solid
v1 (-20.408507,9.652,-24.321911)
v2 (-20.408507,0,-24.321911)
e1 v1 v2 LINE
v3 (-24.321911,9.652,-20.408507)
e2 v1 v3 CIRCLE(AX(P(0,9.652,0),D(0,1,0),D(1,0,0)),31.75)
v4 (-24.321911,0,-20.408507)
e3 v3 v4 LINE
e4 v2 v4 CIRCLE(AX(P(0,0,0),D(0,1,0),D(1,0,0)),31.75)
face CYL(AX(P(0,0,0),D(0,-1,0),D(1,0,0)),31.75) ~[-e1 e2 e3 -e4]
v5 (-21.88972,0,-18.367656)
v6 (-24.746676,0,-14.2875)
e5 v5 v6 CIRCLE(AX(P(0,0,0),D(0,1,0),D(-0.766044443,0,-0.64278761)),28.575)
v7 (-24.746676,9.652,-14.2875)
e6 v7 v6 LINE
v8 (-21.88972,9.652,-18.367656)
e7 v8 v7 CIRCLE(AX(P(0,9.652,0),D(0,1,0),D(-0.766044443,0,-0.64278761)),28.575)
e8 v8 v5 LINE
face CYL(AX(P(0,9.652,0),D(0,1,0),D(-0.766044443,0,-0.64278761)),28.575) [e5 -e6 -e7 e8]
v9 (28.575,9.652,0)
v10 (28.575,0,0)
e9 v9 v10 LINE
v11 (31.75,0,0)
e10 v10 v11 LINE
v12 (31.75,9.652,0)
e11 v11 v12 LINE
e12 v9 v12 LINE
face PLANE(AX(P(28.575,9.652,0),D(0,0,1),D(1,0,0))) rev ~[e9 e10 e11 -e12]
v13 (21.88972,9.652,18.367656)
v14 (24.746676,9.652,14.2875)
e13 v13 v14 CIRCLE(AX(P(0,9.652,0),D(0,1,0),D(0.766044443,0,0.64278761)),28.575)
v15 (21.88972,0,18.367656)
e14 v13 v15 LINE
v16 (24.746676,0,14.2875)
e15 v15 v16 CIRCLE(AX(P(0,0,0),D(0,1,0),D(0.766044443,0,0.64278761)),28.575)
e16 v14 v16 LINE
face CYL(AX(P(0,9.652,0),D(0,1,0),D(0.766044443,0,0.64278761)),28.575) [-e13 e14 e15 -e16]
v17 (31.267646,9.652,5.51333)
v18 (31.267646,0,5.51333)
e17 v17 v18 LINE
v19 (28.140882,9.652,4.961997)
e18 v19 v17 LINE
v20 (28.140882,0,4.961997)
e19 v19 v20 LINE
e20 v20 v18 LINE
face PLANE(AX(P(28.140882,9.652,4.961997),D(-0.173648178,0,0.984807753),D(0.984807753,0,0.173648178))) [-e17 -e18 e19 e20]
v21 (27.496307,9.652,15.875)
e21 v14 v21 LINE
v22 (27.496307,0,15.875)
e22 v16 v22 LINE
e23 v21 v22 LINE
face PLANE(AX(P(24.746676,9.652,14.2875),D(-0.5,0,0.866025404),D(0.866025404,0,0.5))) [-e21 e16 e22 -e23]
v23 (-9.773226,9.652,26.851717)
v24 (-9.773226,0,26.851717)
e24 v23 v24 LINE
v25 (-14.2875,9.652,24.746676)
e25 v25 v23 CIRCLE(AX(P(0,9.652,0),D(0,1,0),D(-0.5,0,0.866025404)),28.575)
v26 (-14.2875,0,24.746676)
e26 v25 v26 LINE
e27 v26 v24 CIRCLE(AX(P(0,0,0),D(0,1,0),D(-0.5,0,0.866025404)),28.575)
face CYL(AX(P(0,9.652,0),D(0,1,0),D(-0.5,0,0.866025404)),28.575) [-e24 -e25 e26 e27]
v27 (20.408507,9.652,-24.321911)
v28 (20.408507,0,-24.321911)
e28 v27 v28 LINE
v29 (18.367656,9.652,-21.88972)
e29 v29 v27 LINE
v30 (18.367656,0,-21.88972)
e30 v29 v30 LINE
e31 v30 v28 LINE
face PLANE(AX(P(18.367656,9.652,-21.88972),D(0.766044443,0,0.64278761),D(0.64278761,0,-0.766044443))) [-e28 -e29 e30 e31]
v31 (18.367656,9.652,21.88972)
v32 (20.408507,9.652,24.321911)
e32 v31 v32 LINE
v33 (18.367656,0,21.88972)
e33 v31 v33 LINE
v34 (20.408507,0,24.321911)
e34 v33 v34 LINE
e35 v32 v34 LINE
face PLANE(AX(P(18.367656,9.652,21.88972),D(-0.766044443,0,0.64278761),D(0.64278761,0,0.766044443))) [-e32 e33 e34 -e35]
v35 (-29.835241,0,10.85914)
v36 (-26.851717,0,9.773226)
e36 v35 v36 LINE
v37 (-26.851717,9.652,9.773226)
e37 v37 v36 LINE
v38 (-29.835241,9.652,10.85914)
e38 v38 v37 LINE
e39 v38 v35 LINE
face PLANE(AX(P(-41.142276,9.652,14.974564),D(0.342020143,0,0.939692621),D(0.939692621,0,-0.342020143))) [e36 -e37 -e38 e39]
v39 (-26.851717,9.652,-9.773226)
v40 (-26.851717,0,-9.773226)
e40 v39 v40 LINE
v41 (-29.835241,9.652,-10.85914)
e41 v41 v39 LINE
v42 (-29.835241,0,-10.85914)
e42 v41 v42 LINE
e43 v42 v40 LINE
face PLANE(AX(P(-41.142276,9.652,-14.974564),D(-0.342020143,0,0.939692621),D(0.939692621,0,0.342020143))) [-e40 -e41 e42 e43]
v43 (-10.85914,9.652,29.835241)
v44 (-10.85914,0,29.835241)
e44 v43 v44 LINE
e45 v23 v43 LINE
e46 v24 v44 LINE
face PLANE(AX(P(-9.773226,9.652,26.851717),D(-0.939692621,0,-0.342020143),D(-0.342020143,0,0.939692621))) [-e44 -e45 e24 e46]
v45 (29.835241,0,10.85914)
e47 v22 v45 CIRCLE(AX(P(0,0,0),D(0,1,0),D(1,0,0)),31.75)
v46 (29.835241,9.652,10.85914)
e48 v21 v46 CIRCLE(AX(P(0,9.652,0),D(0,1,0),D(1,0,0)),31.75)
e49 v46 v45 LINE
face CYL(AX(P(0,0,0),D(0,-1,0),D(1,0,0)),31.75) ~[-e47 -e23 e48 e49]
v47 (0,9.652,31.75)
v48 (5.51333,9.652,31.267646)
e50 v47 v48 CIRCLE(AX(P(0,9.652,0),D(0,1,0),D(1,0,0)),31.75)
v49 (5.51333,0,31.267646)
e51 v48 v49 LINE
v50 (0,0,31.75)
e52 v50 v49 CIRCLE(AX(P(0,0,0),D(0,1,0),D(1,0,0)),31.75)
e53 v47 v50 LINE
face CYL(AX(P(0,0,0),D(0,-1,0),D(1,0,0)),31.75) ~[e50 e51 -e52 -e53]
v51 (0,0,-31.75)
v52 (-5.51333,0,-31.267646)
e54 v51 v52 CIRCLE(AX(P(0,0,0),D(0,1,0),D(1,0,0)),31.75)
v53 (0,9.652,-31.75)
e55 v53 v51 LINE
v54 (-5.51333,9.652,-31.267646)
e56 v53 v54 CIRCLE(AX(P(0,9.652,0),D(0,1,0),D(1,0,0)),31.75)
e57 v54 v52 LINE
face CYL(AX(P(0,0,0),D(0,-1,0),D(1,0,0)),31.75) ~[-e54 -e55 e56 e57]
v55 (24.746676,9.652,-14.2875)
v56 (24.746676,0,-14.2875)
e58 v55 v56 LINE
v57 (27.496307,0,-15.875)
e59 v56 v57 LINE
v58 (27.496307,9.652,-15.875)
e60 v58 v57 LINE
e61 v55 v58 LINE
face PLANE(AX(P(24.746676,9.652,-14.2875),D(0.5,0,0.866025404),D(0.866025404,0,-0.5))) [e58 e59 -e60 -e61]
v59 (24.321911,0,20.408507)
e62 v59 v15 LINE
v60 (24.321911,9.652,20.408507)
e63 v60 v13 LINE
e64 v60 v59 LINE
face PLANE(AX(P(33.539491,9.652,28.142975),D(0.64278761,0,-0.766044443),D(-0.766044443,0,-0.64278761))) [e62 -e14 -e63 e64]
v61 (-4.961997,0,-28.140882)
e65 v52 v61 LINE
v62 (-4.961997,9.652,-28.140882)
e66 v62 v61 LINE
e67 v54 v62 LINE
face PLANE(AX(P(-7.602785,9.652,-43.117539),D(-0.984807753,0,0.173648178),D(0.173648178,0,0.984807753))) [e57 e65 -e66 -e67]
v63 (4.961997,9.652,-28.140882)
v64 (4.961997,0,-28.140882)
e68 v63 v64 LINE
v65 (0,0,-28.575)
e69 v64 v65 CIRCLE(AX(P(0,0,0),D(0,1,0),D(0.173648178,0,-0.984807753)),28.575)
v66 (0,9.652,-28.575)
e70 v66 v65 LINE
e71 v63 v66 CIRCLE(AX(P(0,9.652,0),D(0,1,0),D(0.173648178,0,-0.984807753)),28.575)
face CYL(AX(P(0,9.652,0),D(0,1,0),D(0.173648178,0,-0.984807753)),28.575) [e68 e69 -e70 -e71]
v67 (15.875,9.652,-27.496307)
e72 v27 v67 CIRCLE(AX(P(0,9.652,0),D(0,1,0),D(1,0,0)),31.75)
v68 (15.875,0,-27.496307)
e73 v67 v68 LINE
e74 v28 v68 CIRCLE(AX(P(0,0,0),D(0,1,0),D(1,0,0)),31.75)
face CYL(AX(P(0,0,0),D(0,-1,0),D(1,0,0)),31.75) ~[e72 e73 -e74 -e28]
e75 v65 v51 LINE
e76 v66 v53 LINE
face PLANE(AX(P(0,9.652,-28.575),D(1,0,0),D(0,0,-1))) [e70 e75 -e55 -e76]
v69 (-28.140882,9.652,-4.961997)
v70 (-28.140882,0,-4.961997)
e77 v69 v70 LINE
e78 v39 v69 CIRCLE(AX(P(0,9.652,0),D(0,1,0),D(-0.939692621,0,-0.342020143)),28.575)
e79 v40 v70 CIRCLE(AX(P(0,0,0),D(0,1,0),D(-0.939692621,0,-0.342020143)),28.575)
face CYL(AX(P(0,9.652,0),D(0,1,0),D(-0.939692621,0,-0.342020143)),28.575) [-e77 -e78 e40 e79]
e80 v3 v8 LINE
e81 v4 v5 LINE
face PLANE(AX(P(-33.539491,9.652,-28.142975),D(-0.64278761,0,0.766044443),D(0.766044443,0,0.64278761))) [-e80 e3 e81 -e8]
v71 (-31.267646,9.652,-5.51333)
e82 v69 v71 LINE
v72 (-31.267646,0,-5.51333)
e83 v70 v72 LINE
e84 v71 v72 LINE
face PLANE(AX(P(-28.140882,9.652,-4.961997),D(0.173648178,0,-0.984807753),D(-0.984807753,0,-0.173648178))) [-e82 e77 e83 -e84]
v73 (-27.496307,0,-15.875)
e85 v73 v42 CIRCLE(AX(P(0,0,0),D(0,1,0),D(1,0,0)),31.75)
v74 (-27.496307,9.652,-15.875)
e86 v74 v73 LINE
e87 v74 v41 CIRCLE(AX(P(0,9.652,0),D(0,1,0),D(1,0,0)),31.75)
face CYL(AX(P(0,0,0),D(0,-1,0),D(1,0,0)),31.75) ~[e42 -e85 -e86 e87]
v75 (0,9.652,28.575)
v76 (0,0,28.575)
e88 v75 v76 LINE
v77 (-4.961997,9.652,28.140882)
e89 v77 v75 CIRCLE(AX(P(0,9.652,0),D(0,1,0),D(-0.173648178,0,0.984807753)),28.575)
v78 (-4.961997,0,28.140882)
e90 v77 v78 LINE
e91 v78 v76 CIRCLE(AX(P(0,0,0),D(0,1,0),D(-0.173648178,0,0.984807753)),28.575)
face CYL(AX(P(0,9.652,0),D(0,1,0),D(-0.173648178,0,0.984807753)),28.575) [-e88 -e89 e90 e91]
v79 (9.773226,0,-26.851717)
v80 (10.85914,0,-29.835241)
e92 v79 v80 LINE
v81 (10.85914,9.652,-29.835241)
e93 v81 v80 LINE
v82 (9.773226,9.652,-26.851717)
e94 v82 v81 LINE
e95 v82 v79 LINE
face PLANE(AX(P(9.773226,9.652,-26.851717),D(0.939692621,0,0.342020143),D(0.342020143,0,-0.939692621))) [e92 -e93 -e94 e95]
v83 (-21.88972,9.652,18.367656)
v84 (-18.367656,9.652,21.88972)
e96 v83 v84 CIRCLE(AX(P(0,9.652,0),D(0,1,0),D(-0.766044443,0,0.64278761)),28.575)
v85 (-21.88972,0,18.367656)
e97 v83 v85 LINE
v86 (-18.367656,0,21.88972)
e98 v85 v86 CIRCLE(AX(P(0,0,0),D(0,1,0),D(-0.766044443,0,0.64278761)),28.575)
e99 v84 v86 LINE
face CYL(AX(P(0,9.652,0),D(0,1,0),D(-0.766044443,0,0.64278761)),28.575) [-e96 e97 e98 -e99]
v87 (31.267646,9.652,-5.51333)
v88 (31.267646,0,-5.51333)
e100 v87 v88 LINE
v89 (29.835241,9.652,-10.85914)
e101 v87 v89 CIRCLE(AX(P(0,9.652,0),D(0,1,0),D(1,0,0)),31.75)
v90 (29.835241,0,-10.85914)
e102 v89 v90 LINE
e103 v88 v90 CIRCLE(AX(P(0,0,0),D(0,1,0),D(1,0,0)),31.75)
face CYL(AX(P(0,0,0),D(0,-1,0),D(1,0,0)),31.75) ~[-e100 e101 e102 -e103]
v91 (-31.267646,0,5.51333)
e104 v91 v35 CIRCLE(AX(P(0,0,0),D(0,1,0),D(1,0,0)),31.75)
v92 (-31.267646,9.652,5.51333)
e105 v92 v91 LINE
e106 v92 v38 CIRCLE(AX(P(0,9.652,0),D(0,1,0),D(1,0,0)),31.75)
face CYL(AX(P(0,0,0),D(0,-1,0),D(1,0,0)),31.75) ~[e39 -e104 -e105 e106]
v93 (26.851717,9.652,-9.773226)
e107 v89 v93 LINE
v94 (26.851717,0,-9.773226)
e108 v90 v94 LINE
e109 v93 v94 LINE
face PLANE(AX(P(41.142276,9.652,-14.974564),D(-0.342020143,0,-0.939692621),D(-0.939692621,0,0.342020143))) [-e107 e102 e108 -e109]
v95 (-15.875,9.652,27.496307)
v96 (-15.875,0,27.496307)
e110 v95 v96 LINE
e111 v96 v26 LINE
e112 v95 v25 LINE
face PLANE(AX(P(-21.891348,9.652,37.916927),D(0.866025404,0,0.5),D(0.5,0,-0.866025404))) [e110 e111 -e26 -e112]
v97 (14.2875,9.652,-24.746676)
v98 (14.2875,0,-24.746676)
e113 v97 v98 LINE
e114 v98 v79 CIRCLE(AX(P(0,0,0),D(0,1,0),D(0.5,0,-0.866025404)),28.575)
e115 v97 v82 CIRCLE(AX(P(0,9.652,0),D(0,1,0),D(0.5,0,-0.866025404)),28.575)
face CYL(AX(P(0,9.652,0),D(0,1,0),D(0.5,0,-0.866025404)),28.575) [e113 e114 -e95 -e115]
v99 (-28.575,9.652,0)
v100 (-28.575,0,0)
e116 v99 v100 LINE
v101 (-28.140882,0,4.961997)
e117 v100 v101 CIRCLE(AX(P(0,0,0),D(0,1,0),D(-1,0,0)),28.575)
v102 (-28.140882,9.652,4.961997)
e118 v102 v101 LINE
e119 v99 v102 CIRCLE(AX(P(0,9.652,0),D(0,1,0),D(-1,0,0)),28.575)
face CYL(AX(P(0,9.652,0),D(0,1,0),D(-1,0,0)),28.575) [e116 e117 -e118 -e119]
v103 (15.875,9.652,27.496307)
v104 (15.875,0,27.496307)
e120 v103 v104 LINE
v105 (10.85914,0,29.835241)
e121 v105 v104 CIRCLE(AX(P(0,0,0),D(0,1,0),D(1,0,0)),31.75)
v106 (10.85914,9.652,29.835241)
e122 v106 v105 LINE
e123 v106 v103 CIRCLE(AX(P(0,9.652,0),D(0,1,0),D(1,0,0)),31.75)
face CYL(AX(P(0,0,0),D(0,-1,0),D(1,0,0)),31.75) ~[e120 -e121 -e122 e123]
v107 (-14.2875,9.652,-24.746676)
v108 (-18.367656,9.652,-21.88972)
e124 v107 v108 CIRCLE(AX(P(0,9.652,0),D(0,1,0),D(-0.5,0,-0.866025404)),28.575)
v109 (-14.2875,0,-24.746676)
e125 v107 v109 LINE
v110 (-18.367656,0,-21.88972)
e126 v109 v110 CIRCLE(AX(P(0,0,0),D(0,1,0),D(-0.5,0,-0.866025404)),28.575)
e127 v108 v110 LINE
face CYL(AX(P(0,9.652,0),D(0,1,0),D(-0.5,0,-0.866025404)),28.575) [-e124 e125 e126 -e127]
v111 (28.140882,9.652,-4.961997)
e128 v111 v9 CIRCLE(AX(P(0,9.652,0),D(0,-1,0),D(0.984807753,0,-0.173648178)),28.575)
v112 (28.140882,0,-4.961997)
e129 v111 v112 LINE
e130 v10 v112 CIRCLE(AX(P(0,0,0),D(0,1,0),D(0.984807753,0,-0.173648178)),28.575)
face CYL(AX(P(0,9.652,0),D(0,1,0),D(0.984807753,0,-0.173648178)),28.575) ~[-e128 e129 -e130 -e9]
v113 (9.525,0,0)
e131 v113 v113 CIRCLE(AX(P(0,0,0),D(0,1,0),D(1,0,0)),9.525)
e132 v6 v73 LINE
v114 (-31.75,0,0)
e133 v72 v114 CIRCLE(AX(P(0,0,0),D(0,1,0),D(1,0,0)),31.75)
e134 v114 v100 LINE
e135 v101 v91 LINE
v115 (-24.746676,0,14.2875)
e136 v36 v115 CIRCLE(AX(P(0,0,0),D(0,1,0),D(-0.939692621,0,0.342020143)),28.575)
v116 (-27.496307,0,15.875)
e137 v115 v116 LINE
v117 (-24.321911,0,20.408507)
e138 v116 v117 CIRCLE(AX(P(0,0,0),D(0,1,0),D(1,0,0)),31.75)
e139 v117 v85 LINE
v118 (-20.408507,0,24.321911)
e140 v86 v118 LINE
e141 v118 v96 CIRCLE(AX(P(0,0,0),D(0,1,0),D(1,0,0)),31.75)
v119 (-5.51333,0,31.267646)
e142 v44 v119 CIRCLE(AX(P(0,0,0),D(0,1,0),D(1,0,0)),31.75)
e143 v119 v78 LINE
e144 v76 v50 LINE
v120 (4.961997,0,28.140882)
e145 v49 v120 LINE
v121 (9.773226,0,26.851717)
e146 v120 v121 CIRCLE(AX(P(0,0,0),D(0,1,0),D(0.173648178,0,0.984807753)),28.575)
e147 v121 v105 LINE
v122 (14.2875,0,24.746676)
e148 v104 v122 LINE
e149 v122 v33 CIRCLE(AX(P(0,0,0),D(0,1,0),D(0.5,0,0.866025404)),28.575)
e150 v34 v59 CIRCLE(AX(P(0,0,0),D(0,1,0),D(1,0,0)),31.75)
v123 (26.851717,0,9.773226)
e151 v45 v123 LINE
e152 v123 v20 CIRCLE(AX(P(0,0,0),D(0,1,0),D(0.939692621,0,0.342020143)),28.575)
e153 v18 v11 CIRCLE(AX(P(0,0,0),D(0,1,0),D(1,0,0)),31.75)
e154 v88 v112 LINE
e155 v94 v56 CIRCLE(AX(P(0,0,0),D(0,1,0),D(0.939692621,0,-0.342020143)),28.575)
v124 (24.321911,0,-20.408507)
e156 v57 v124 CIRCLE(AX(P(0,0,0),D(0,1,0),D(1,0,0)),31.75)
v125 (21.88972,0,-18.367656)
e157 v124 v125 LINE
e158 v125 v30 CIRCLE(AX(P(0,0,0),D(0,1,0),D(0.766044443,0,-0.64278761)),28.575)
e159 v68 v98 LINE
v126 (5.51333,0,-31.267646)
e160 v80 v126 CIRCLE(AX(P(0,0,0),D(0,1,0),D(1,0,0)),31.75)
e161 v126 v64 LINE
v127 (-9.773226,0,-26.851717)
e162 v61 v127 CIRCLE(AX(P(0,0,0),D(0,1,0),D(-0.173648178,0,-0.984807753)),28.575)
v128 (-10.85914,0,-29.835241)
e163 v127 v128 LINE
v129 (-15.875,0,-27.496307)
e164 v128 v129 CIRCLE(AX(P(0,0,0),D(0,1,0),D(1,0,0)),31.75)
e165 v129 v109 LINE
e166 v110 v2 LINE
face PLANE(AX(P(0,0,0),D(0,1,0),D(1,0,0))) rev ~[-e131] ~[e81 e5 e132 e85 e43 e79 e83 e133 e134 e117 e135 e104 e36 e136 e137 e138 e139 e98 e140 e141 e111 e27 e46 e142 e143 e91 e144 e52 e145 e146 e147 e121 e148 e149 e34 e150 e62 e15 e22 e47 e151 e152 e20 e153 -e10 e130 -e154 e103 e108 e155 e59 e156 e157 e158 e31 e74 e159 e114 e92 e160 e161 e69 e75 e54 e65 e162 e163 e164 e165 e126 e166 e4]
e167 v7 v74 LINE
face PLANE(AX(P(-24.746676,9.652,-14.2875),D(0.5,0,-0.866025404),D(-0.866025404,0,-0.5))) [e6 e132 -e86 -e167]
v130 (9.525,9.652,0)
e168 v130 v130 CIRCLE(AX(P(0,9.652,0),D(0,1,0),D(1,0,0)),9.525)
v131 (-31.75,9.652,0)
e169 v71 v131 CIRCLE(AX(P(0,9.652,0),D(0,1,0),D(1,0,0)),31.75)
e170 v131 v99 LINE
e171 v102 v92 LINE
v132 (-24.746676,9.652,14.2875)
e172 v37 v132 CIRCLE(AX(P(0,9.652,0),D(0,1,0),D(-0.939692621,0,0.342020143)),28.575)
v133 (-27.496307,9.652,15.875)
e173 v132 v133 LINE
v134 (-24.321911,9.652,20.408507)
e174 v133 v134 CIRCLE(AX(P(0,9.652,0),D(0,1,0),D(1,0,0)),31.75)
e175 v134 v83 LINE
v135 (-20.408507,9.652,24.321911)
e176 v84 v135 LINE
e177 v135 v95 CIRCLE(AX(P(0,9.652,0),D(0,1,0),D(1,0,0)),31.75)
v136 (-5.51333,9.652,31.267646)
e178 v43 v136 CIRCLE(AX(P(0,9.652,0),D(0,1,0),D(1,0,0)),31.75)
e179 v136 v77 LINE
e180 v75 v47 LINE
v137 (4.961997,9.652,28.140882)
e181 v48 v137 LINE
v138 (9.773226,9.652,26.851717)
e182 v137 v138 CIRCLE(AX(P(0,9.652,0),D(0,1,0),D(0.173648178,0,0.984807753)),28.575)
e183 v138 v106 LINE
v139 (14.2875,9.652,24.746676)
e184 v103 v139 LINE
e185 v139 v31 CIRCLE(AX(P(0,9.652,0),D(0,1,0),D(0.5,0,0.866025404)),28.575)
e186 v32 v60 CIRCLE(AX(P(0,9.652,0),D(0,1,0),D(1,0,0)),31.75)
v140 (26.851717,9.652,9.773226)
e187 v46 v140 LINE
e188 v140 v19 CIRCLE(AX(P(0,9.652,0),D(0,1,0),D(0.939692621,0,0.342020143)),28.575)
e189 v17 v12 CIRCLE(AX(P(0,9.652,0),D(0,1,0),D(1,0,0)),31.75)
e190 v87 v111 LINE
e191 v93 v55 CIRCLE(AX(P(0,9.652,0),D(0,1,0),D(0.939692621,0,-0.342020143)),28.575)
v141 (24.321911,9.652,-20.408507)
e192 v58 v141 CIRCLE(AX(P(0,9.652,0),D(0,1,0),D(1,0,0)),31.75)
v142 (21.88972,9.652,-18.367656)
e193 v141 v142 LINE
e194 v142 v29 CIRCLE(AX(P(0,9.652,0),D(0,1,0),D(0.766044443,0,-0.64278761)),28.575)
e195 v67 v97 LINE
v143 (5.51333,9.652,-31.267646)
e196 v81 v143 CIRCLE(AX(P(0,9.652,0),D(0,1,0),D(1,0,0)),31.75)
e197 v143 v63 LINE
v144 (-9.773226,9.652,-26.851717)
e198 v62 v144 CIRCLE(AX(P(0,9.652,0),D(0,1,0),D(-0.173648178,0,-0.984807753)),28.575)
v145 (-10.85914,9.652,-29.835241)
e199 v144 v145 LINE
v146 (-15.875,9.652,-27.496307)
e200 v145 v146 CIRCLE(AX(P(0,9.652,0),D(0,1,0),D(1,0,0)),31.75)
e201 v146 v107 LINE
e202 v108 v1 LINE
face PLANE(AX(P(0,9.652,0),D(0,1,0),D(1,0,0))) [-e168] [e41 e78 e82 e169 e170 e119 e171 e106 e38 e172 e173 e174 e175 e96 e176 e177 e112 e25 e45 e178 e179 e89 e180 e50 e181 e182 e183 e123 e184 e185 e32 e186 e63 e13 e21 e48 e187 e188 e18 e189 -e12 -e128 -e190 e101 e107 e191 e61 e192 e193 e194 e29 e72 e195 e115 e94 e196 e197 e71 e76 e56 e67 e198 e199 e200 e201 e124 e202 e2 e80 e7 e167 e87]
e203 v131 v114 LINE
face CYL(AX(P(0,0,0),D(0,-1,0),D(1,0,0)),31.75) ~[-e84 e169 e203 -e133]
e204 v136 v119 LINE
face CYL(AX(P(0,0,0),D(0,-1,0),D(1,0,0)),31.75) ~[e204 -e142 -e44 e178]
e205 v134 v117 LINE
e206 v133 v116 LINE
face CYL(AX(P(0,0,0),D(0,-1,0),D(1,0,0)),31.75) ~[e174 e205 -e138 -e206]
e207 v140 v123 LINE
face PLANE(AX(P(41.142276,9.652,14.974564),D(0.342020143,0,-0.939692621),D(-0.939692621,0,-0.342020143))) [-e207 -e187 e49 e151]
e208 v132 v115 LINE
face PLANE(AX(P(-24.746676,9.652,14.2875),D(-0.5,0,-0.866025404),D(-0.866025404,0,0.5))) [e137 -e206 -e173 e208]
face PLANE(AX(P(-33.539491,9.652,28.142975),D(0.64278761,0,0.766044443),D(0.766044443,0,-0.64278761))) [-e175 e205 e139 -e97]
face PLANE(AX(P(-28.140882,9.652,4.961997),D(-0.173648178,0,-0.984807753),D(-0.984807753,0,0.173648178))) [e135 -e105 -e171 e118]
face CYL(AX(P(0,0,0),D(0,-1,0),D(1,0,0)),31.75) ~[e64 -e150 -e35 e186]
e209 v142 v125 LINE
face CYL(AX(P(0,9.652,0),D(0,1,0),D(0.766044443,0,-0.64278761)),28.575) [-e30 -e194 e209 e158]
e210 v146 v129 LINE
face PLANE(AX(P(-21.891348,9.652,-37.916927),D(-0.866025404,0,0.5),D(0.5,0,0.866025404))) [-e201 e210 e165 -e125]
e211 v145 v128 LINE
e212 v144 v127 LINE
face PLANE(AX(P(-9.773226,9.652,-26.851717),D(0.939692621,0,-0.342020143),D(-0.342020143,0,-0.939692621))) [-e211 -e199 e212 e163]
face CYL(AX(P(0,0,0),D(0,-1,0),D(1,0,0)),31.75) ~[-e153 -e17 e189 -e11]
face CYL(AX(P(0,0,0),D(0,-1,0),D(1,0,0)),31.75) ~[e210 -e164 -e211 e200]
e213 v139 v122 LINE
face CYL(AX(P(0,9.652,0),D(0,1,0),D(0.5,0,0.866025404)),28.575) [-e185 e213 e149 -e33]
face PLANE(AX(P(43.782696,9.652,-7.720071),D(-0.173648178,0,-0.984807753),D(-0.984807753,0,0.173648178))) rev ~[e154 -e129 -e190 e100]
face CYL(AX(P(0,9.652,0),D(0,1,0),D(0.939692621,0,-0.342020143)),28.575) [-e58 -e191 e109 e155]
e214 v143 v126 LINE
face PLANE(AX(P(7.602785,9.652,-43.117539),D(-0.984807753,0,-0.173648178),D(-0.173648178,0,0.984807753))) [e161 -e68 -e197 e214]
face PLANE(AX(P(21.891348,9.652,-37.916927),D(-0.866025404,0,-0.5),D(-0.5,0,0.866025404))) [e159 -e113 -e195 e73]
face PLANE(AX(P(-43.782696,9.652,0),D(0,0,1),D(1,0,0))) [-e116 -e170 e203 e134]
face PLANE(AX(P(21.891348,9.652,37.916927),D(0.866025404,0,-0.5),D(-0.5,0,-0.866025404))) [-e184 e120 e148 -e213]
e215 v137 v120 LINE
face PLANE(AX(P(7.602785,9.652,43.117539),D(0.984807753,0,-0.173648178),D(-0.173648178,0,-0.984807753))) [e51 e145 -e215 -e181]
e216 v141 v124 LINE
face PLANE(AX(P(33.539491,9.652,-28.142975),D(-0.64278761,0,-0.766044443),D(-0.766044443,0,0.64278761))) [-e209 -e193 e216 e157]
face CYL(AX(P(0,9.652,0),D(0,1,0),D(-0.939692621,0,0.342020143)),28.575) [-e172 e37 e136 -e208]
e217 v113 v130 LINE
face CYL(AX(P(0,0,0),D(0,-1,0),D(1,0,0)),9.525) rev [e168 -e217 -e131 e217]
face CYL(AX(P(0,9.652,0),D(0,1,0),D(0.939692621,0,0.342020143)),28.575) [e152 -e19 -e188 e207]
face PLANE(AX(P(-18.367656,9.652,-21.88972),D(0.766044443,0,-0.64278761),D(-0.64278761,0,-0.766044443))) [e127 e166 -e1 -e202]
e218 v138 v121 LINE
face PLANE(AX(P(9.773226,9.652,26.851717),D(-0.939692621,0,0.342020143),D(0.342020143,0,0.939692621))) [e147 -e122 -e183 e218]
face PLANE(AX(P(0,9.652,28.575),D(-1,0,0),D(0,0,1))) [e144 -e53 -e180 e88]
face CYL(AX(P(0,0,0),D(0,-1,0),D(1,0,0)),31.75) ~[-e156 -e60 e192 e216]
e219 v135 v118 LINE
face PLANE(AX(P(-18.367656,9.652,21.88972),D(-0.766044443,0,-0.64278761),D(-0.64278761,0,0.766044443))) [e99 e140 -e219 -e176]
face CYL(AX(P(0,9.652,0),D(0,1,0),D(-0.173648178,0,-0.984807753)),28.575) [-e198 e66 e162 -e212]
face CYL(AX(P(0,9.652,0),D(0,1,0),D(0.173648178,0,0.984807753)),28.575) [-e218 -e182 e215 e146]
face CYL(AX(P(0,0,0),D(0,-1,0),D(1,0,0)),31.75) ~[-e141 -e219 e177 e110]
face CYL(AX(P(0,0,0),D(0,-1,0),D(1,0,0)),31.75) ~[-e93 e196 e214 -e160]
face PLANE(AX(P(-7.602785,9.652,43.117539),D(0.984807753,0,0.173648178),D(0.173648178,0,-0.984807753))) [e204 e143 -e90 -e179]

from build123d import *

# Parameters (mm, degrees)
SKETCH1_R           = 31.75
SKETCH1_R_2         = 9.525
BOSS_EXTRUDE1_DEPTH = 9.652
CUT_EXTRUDE1_DEPTH  = 10.652


with BuildPart() as part:
    # Sketch1 → Boss-Extrude1 (new body)
    with BuildSketch(Plane(origin=(0, 0, 0), x_dir=(1, 0, 0), z_dir=(0, 1, 0))):
        Circle(SKETCH1_R)
        Circle(SKETCH1_R_2, mode=Mode.SUBTRACT)
    extrude(amount=BOSS_EXTRUDE1_DEPTH)

    # Sketch2 → Cut-Extrude1 (cut, through all)
    with BuildSketch(Plane(origin=(0, 9.652, 0), x_dir=(1, 0, 0), z_dir=(0, 1, 0))):
        with BuildLine():
            Line((28.575, 0), (43.782696044, 0))
            Line((43.782696044, 0), (43.782696044, 7.720070601))
            Line((43.782696044, 7.720070601), (28.140881542, 4.961996677))
            ThreePointArc((28.140881542, 4.961996677), (28.466263498, 2.490475349), (28.575, 0))
        make_face()
        with BuildLine():
            Line((28.140881542, -4.961996677), (43.782696044, -7.720070601))
            Line((43.782696044, -7.720070601), (41.14227639, -14.974563976))
            Line((41.14227639, -14.974563976), (26.851716639, -9.773225596))
            ThreePointArc((26.851716639, -9.773225596), (27.601330486, -7.395754214), (28.140881542, -4.961996677))
        make_face()
        with BuildLine():
            Line((24.746675913, -14.2875), (38.501856737, -22.229057351))
            Line((38.501856737, -22.229057351), (33.539491009, -28.142974536))
            Line((33.539491009, -28.142974536), (21.889719962, -18.367655947))
            ThreePointArc((21.889719962, -18.367655947), (23.407269666, -16.389946669), (24.746675913, -14.2875))
        make_face()
        with BuildLine():
            Line((18.367655947, -21.889719962), (28.577125281, -34.05689172))
            Line((28.577125281, -34.05689172), (21.891348022, -37.91692702))
            Line((21.891348022, -37.91692702), (14.2875, -24.746675913))
            ThreePointArc((14.2875, -24.746675913), (16.389946669, -23.407269666), (18.367655947, -21.889719962))
        make_face()
        with BuildLine():
            Line((9.773225596, -26.851716639), (15.205570763, -41.77696232))
            Line((15.205570763, -41.77696232), (7.602785381, -43.117538512))
            Line((7.602785381, -43.117538512), (4.961996677, -28.140881542))
            ThreePointArc((4.961996677, -28.140881542), (7.395754214, -27.601330486), (9.773225596, -26.851716639))
        make_face()
        with BuildLine():
            Line((0, -28.575), (0, -44.458114703))
            Line((0, -44.458114703), (-7.602785381, -43.117538512))
            Line((-7.602785381, -43.117538512), (-4.961996677, -28.140881542))
            ThreePointArc((-4.961996677, -28.140881542), (-2.490475349, -28.466263498), (0, -28.575))
        make_face()
        with BuildLine():
            Line((-9.773225596, -26.851716639), (-15.205570763, -41.77696232))
            Line((-15.205570763, -41.77696232), (-21.891348022, -37.91692702))
            Line((-21.891348022, -37.91692702), (-14.2875, -24.746675913))
            ThreePointArc((-14.2875, -24.746675913), (-12.076316829, -25.897745015), (-9.773225596, -26.851716639))
        make_face()
        with BuildLine():
            Line((-18.367655947, -21.889719962), (-28.577125281, -34.05689172))
            Line((-28.577125281, -34.05689172), (-33.539491009, -28.142974536))
            Line((-33.539491009, -28.142974536), (-21.889719962, -18.367655947))
            ThreePointArc((-21.889719962, -18.367655947), (-20.205576272, -20.205576272), (-18.367655947, -21.889719962))
        make_face()
        with BuildLine():
            Line((-24.746675913, -14.2875), (-38.501856737, -22.229057351))
            Line((-38.501856737, -22.229057351), (-41.14227639, -14.974563976))
            Line((-41.14227639, -14.974563976), (-26.851716639, -9.773225596))
            ThreePointArc((-26.851716639, -9.773225596), (-25.897745015, -12.076316829), (-24.746675913, -14.2875))
        make_face()
        with BuildLine():
            Line((-28.140881542, -4.961996677), (-43.782696044, -7.720070601))
            Line((-43.782696044, -7.720070601), (-43.782696044, 0))
            Line((-43.782696044, 0), (-28.575, 0))
            ThreePointArc((-28.575, 0), (-28.466263498, -2.490475349), (-28.140881542, -4.961996677))
        make_face()
        with BuildLine():
            Line((-28.140881542, 4.961996677), (-43.782696044, 7.720070601))
            Line((-43.782696044, 7.720070601), (-41.14227639, 14.974563976))
            Line((-41.14227639, 14.974563976), (-26.851716639, 9.773225596))
            ThreePointArc((-26.851716639, 9.773225596), (-27.601330486, 7.395754214), (-28.140881542, 4.961996677))
        make_face()
        with BuildLine():
            Line((-24.746675913, 14.2875), (-38.501856737, 22.229057351))
            Line((-38.501856737, 22.229057351), (-33.539491009, 28.142974536))
            Line((-33.539491009, 28.142974536), (-21.889719962, 18.367655947))
            ThreePointArc((-21.889719962, 18.367655947), (-23.407269666, 16.389946669), (-24.746675913, 14.2875))
        make_face()
        with BuildLine():
            Line((-18.367655947, 21.889719962), (-28.577125281, 34.05689172))
            Line((-28.577125281, 34.05689172), (-21.891348022, 37.91692702))
            Line((-21.891348022, 37.91692702), (-14.2875, 24.746675913))
            ThreePointArc((-14.2875, 24.746675913), (-16.389946669, 23.407269666), (-18.367655947, 21.889719962))
        make_face()
        with BuildLine():
            Line((-9.773225596, 26.851716639), (-15.205570763, 41.77696232))
            Line((-15.205570763, 41.77696232), (-7.602785381, 43.117538512))
            Line((-7.602785381, 43.117538512), (-4.961996677, 28.140881542))
            ThreePointArc((-4.961996677, 28.140881542), (-7.395754214, 27.601330486), (-9.773225596, 26.851716639))
        make_face()
        with BuildLine():
            Line((0, 28.575), (0, 44.458114703))
            Line((0, 44.458114703), (7.602785381, 43.117538512))
            Line((7.602785381, 43.117538512), (4.961996677, 28.140881542))
            ThreePointArc((4.961996677, 28.140881542), (2.490475349, 28.466263498), (0, 28.575))
        make_face()
        with BuildLine():
            Line((9.773225596, 26.851716639), (15.205570763, 41.77696232))
            Line((15.205570763, 41.77696232), (21.891348022, 37.91692702))
            Line((21.891348022, 37.91692702), (14.2875, 24.746675913))
            ThreePointArc((14.2875, 24.746675913), (12.076316829, 25.897745015), (9.773225596, 26.851716639))
        make_face()
        with BuildLine():
            Line((18.367655947, 21.889719962), (28.577125281, 34.05689172))
            Line((28.577125281, 34.05689172), (33.539491009, 28.142974536))
            Line((33.539491009, 28.142974536), (21.889719962, 18.367655947))
            ThreePointArc((21.889719962, 18.367655947), (20.205576272, 20.205576272), (18.367655947, 21.889719962))
        make_face()
        with BuildLine():
            Line((24.746675913, 14.2875), (38.501856737, 22.229057351))
            Line((38.501856737, 22.229057351), (41.14227639, 14.974563976))
            Line((41.14227639, 14.974563976), (26.851716639, 9.773225596))
            ThreePointArc((26.851716639, 9.773225596), (25.897745015, 12.076316829), (24.746675913, 14.2875))
        make_face()
    extrude(amount=-CUT_EXTRUDE1_DEPTH, mode=Mode.SUBTRACT)


solid = part.part
